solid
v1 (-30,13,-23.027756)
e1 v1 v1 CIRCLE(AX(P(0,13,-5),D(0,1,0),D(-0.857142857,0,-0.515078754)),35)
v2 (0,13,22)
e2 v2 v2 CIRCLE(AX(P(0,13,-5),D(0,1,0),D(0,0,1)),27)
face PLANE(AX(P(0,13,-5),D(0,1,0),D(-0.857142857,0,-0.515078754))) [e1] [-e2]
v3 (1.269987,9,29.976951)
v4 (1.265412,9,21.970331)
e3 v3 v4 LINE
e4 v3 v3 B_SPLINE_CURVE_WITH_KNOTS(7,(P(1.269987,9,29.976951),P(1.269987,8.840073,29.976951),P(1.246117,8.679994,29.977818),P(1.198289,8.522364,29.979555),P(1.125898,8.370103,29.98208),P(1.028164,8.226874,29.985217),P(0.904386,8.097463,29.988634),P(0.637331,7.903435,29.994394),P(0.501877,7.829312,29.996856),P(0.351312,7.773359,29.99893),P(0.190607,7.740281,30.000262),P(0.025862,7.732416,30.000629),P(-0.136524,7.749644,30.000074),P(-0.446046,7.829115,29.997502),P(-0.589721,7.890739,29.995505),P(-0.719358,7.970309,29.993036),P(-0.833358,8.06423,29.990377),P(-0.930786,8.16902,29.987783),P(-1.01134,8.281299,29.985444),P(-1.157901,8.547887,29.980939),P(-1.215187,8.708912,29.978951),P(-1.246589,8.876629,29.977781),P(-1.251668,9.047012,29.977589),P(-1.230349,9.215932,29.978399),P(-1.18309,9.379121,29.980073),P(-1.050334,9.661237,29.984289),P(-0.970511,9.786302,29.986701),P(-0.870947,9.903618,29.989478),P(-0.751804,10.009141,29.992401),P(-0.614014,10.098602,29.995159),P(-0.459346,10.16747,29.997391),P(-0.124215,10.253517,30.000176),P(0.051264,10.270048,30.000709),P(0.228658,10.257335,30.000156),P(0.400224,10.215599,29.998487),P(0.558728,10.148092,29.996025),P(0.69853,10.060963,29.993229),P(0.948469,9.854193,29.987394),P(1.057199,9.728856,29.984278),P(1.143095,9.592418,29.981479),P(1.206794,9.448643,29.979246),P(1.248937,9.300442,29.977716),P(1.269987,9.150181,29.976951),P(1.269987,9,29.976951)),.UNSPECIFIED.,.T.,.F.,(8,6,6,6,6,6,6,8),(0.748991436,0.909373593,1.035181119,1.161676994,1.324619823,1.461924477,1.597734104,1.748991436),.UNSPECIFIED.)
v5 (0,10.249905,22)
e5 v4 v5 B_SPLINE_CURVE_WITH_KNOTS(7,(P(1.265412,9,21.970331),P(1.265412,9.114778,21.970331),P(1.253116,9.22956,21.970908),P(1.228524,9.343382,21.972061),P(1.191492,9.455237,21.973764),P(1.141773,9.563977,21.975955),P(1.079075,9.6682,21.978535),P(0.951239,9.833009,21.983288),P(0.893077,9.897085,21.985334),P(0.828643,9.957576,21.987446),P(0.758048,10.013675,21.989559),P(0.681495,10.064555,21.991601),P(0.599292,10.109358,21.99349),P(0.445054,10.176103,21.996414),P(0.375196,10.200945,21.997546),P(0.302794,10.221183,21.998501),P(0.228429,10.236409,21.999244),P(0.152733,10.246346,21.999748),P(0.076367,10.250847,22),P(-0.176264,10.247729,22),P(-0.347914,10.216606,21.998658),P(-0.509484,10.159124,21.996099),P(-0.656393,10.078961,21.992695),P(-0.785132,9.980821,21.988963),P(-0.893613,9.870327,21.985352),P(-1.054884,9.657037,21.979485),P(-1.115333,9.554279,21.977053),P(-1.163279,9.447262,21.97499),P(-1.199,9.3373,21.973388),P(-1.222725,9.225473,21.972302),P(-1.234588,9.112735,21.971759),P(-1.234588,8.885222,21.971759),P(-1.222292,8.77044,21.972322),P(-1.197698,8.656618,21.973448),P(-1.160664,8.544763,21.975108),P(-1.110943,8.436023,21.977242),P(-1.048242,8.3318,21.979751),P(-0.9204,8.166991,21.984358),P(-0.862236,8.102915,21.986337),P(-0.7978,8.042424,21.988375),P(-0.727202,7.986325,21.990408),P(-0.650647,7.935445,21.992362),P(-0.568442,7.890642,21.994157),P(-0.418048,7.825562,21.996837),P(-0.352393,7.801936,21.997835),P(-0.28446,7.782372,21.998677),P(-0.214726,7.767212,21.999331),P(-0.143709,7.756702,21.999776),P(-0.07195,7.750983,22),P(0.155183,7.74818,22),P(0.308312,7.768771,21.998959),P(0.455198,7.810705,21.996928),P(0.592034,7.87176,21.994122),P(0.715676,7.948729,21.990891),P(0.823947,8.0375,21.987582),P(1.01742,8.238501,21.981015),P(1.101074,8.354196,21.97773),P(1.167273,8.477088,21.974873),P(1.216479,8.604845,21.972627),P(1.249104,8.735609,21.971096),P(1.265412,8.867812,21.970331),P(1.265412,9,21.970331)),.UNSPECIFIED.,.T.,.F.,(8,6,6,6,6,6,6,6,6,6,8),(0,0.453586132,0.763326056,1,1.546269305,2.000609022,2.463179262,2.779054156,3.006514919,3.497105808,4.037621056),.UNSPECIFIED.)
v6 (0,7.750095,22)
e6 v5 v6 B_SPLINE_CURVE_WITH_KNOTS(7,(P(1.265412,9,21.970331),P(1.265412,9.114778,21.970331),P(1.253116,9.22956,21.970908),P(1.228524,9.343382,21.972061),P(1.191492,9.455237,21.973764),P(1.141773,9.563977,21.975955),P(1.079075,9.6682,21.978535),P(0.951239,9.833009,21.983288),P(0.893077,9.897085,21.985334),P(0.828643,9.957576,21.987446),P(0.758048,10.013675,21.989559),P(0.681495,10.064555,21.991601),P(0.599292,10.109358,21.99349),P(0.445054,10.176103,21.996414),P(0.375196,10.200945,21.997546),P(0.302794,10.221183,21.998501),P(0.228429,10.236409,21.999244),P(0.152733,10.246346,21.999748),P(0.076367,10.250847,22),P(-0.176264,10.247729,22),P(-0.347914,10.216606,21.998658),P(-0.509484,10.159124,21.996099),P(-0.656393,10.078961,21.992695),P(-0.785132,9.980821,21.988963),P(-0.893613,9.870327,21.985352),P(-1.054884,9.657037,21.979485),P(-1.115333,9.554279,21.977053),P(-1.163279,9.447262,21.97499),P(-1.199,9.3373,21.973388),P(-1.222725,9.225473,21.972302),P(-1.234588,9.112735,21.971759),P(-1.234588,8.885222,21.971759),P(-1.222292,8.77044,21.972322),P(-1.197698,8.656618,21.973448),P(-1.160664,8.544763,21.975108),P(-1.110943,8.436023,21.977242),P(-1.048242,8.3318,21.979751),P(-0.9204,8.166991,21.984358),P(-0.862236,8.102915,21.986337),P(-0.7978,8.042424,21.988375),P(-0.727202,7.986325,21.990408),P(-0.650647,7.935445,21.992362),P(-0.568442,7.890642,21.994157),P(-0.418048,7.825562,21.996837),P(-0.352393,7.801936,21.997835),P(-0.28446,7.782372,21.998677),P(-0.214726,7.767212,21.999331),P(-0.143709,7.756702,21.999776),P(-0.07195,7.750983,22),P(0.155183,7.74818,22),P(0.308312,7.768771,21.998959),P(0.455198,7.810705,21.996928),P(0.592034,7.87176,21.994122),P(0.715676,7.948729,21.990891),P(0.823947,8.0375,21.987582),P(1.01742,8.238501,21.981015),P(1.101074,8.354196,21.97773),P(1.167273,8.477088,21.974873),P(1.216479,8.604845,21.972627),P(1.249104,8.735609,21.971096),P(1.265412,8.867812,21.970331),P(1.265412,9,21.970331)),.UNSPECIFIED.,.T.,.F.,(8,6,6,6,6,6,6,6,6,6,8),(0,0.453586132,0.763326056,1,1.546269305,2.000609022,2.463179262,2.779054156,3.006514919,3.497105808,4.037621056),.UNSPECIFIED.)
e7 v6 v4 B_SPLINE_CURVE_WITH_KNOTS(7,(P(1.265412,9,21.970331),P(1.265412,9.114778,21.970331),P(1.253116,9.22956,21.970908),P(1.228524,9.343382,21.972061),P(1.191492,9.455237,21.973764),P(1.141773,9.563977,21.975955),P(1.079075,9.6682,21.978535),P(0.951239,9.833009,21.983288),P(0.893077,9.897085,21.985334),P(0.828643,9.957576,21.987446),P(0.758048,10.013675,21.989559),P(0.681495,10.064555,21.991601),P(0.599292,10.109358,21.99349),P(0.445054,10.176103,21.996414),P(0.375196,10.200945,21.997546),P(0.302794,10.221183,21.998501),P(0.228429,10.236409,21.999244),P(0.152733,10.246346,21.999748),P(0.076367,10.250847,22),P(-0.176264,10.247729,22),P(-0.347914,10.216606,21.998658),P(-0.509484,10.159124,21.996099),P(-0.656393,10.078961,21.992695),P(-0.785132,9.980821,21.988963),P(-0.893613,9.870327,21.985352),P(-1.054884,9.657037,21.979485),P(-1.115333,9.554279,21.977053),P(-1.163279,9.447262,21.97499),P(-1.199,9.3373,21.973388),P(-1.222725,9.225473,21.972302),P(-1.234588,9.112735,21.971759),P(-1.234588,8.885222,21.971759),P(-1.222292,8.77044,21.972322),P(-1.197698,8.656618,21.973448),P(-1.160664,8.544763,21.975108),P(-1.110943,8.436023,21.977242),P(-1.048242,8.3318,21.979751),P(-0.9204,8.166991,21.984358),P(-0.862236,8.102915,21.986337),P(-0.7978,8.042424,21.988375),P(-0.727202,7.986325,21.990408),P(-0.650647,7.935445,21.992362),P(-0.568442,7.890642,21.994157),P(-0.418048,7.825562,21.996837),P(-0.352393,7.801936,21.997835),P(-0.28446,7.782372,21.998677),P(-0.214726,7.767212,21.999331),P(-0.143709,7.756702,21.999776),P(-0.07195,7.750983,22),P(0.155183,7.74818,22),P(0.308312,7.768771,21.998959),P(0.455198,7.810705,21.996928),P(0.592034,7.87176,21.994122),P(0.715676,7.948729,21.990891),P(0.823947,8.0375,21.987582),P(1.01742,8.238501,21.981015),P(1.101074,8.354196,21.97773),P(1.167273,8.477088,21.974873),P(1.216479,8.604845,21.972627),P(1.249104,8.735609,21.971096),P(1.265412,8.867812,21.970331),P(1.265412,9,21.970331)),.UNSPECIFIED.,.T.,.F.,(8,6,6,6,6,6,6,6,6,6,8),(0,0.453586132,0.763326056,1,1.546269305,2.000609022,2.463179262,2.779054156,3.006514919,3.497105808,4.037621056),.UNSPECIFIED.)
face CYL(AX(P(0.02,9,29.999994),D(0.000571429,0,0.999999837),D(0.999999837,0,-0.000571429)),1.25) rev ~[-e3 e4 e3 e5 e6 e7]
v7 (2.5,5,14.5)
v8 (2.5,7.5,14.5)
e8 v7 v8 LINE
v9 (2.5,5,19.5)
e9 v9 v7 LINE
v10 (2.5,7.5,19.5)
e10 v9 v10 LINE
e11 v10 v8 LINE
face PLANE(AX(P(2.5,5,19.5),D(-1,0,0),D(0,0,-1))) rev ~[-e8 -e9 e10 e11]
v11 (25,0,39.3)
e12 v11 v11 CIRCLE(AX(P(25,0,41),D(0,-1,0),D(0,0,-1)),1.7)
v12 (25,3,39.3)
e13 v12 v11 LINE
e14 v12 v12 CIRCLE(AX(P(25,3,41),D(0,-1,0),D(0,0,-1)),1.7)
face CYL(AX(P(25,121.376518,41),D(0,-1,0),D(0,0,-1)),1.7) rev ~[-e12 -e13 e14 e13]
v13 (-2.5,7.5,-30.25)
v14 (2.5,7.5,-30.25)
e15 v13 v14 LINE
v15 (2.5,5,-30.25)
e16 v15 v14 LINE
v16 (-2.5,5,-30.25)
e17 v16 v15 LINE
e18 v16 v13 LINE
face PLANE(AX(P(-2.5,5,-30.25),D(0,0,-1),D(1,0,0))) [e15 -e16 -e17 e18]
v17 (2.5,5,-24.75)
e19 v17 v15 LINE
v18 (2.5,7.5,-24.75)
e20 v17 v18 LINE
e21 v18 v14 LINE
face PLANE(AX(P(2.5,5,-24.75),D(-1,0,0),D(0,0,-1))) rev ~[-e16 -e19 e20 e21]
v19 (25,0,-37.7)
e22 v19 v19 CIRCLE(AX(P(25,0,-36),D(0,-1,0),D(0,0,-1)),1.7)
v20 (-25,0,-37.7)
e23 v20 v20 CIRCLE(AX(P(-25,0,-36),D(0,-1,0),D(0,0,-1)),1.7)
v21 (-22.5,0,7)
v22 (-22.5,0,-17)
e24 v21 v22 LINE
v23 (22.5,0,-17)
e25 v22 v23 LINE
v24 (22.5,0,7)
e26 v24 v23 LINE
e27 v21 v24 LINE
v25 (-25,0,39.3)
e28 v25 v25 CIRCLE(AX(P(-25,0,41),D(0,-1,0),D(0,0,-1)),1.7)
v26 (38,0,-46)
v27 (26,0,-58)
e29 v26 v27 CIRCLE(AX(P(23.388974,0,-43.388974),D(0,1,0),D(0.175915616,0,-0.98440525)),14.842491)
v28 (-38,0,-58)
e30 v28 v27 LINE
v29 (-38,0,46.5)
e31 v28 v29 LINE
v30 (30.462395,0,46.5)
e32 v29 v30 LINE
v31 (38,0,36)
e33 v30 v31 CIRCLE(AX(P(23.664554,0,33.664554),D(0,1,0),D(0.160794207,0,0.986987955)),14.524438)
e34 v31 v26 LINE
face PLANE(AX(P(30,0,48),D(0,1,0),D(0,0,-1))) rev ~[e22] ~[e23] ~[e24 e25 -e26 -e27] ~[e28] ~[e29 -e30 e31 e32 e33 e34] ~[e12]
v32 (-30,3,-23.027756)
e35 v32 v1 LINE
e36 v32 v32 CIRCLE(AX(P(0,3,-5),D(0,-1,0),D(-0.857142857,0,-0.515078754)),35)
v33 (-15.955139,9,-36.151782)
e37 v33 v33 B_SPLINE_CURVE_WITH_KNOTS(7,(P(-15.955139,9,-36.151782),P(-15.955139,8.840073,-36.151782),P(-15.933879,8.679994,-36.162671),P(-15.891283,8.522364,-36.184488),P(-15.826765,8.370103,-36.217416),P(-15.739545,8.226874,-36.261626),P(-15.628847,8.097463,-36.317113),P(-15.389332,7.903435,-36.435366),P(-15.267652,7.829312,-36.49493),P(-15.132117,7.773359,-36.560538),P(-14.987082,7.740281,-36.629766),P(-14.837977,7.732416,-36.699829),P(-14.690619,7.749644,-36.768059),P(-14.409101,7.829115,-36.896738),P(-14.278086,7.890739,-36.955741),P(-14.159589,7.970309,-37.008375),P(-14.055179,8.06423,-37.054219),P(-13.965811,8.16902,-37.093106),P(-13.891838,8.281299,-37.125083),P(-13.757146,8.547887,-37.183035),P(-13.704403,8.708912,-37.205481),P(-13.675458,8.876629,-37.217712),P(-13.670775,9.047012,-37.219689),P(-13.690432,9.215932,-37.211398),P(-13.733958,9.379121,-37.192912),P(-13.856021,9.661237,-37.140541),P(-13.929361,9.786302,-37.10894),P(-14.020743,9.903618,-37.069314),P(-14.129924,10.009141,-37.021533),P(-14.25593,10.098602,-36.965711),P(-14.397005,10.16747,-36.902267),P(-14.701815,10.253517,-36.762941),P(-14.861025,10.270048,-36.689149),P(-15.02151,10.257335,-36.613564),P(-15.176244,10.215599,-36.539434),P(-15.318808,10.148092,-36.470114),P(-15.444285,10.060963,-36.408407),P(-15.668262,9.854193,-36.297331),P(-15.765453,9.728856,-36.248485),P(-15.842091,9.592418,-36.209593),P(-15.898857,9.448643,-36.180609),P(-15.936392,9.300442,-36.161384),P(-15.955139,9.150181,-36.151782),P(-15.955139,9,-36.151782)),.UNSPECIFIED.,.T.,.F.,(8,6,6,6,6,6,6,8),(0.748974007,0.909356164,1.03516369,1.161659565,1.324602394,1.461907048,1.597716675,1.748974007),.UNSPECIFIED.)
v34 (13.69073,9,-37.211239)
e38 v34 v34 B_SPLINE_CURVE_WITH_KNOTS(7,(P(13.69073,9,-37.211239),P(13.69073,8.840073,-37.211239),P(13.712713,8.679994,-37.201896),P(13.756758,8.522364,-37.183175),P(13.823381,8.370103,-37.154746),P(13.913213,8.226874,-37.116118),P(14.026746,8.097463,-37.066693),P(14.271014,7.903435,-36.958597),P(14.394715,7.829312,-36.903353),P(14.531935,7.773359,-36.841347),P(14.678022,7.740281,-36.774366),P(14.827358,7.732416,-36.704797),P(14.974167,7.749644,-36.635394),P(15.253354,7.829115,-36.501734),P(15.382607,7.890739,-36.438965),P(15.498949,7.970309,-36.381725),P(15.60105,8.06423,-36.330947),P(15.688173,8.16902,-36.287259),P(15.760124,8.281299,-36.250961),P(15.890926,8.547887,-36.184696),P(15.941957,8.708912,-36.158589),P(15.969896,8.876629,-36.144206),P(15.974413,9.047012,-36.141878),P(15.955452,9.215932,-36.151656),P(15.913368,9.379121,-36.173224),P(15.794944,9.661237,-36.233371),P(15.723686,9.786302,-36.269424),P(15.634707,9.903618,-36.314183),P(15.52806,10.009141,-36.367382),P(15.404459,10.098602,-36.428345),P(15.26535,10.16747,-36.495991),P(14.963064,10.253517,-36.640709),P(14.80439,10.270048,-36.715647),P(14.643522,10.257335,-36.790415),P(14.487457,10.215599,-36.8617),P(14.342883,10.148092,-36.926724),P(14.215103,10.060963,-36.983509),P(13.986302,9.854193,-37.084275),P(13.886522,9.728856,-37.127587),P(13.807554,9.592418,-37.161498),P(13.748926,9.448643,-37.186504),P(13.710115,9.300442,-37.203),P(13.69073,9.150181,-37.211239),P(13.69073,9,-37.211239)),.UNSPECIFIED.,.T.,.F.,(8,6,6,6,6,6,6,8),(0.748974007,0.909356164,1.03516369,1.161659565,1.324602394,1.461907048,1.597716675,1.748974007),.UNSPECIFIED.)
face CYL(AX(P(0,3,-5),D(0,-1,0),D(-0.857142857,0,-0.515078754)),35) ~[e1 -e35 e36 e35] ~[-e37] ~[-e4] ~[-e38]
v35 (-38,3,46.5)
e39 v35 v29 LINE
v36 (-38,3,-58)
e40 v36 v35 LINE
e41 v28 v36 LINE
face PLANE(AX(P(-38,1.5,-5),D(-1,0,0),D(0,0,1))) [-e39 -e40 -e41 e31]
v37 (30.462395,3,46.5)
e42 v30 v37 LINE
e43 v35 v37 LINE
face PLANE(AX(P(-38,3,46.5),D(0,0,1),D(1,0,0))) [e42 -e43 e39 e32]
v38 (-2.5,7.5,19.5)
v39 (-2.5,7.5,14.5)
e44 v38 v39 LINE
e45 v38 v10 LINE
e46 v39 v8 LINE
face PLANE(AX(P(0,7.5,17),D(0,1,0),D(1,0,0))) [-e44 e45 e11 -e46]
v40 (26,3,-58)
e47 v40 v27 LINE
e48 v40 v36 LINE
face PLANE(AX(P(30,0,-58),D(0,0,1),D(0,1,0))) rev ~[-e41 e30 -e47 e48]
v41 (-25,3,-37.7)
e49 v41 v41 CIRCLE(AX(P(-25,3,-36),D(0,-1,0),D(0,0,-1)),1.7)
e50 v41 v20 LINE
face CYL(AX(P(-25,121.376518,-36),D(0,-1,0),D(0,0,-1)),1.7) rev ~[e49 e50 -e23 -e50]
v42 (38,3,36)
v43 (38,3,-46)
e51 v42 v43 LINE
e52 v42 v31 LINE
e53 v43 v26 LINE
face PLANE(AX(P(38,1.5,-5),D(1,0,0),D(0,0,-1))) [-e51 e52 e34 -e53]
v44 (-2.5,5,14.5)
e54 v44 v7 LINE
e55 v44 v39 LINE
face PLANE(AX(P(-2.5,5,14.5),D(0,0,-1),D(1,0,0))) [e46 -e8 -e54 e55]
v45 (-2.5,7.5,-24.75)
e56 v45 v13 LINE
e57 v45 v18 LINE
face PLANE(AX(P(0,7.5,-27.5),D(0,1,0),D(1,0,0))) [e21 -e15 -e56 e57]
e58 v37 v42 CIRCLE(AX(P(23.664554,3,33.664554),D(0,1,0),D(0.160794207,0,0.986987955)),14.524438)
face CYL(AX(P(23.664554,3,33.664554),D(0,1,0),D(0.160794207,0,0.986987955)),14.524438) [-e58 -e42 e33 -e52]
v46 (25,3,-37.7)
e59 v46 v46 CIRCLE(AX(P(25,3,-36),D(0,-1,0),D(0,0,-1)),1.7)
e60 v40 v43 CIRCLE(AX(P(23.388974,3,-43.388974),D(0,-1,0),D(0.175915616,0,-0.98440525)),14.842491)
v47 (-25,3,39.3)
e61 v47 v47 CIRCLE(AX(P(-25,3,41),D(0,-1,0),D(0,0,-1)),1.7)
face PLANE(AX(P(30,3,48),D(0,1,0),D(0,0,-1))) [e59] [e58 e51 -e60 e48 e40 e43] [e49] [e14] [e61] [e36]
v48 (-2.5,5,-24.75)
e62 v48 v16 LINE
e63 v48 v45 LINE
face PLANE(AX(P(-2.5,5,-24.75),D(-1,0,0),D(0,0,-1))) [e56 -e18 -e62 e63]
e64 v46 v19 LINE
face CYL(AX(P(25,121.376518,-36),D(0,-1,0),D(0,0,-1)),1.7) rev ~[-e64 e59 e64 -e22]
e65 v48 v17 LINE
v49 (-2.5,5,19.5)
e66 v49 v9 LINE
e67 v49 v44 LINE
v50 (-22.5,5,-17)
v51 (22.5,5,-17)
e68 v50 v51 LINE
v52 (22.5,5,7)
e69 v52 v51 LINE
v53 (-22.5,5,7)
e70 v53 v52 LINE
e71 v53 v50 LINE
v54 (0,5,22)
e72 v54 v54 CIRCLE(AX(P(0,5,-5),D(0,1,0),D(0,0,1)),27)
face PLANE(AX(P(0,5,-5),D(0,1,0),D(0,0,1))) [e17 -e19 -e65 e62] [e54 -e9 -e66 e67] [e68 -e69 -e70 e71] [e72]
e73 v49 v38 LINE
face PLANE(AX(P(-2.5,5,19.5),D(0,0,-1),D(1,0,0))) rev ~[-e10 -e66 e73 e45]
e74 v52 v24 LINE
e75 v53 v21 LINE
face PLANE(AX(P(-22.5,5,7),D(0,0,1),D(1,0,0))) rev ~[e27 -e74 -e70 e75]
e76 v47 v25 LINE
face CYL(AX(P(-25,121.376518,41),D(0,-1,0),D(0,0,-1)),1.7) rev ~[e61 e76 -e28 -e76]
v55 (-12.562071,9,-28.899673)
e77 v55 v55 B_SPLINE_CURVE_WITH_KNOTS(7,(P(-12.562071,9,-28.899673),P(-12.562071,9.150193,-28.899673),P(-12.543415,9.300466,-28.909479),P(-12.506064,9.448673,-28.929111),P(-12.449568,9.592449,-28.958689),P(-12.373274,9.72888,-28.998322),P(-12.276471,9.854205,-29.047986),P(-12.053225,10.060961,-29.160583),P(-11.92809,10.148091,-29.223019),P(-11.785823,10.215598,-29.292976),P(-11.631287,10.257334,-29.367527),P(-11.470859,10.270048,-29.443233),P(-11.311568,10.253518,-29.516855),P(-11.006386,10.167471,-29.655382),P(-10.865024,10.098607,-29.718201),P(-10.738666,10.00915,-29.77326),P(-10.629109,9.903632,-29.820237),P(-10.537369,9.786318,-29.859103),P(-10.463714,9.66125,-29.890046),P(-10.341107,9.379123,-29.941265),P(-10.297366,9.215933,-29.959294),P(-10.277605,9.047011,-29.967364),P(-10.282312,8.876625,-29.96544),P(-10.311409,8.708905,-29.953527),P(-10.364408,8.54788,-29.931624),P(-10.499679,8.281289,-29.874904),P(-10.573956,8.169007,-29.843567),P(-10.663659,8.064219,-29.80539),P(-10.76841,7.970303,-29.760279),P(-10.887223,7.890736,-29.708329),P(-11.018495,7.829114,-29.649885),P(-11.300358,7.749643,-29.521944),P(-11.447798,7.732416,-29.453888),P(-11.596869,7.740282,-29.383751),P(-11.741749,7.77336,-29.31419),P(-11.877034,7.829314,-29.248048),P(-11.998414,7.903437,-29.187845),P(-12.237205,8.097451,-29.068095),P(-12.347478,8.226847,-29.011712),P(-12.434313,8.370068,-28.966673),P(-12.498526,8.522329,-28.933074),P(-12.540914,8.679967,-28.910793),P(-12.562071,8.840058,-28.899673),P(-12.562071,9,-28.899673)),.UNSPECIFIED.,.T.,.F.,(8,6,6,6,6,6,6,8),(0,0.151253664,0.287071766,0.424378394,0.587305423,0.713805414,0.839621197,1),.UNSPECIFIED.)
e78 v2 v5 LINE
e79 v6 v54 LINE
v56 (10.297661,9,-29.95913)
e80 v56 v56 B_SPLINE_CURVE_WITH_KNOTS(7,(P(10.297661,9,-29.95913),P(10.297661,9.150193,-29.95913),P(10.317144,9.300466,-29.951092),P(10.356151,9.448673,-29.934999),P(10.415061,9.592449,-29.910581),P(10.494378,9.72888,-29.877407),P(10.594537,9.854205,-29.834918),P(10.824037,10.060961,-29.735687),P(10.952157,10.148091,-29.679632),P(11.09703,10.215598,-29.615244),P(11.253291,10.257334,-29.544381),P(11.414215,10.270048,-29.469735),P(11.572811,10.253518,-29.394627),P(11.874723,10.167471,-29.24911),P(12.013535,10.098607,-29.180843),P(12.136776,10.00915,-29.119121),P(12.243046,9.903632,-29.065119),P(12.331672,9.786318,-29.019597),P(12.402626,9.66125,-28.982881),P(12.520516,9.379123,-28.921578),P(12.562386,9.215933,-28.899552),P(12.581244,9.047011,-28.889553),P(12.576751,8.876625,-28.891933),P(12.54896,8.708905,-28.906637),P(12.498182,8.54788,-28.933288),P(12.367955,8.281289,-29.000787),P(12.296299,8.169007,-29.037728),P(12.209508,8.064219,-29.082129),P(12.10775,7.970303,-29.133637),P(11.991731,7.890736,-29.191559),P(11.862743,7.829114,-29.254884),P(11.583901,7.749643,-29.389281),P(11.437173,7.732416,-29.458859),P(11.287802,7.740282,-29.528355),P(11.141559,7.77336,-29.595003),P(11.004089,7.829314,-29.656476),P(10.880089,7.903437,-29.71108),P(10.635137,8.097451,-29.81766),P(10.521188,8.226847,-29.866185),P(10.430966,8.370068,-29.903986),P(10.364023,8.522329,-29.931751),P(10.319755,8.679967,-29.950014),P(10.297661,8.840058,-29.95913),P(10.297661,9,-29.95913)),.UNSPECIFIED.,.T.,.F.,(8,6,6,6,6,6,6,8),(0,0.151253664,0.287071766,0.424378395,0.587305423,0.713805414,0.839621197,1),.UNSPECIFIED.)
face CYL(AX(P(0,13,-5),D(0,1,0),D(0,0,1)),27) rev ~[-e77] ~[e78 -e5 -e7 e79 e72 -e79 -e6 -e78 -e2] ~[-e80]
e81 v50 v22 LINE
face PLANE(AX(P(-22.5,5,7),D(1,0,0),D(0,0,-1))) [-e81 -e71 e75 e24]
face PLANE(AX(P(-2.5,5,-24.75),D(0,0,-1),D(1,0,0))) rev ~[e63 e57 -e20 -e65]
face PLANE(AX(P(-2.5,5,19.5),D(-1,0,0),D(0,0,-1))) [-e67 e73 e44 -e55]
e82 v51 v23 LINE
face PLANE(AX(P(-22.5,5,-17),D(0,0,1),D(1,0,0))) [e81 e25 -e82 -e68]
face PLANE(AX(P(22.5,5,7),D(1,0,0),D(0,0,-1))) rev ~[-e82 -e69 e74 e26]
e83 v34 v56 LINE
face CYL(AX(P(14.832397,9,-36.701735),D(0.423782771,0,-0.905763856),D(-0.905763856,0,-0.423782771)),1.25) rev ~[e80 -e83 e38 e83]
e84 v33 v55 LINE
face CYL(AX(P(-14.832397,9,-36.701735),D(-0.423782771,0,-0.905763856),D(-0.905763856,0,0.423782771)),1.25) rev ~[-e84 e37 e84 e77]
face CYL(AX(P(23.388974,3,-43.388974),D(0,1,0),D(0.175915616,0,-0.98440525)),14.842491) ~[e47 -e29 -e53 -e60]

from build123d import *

# Parameters (mm, degrees)
SKETCH1_W                  = 60
SKETCH1_H                  = 102
BOSS_EXTRUDE1_DEPTH        = 3
M3_CLEARANCE_HOLE1_D       = 3.4
SKETCH5_R                  = 35
BOSS_EXTRUDE2_DEPTH        = 10
SKETCH6_R                  = 27
CUT_EXTRUDE1_DEPTH         = 8
SKETCH8_W                  = 5
SKETCH8_H                  = 5.5
BOSS_EXTRUDE3_DEPTH        = 2.5
SKETCH9_W                  = 5
SKETCH9_H                  = 5
BOSS_EXTRUDE4_DEPTH        = 2.5
SKETCH10_W                 = 45
SKETCH10_H                 = 24
CUT_EXTRUDE2_DEPTH         = 63.369864518
SKETCH12_W                 = 60
SKETCH12_H                 = 2
CUT_EXTRUDE3_DEPTH         = 63.657800791
SKETCH13_W                 = 60
SKETCH13_H                 = 3
CUT_EXTRUDE4_DEPTH         = 63.657800791
SKETCH14_W                 = 60
SKETCH14_H                 = 3
BOSS_EXTRUDE5_DEPTH        = 9
SKETCH16_W                 = 106
SKETCH16_H                 = 3
BOSS_EXTRUDE6_DEPTH        = 8
SKETCH17_W                 = 106
SKETCH17_H                 = 3
BOSS_EXTRUDE7_DEPTH        = 8
CUT_EXTRUDE5_DEPTH         = 15
CUT_EXTRUDE6_DEPTH         = 71.057119553
M3X0_5_TAPPED_HOLE1_REACH  = 102.233
M3X0_5_TAPPED_HOLE1_BORE_R = 1.25
M3X0_5_TAPPED_HOLE2_REACH  = 102.233
M3X0_5_TAPPED_HOLE2_BORE_R = 1.25
M3X0_5_TAPPED_HOLE3_REACH  = 98.284
M3X0_5_TAPPED_HOLE3_BORE_R = 1.25
SKETCH28_W                 = 76
SKETCH28_H                 = 1.5
CUT_EXTRUDE7_DEPTH         = 71.057119567


with BuildPart() as part:
    # Sketch1 → Boss-Extrude1 (new body)
    with BuildSketch(Plane(origin=(0, 0, 0), x_dir=(1, 0, 0), z_dir=(0, 1, 0))):
        Rectangle(SKETCH1_W, SKETCH1_H)
    extrude(amount=BOSS_EXTRUDE1_DEPTH)

    # M3 Clearance Hole1 (through all)
    with Locations(Plane(origin=(-25, 3, -36), x_dir=(0, 0, 1), z_dir=(0, 1, 0))):
        with Locations((0, 0), (0, 50), (77, 0), (77, 50)):
            Hole(M3_CLEARANCE_HOLE1_D / 2)

    # Sketch5 → Boss-Extrude2 (add)
    with BuildSketch(Plane(origin=(0, 3, 0), x_dir=(1, 0, 0), z_dir=(0, 1, 0))):
        with Locations(Location((0, 5, 0), (0, 0, 148.997280866))):
            Circle(SKETCH5_R)
    extrude(amount=BOSS_EXTRUDE2_DEPTH)

    # Sketch6 → Cut-Extrude1 (cut)
    with BuildSketch(Plane(origin=(0, 13, 0), x_dir=(1, 0, 0), z_dir=(0, 1, 0))):
        with Locations(Location((0, 5, 0), (0, 0, 270))):
            Circle(SKETCH6_R)
    extrude(amount=-CUT_EXTRUDE1_DEPTH, mode=Mode.SUBTRACT)

    # Sketch8 → Boss-Extrude3 (add)
    with BuildSketch(Plane(origin=(0, 5, 0), x_dir=(1, 0, 0), z_dir=(0, 1, 0))):
        with Locations((0, 27.5)):
            Rectangle(SKETCH8_W, SKETCH8_H)
    extrude(amount=BOSS_EXTRUDE3_DEPTH)

    # Sketch9 → Boss-Extrude4 (add)
    with BuildSketch(Plane(origin=(0, 5, 0), x_dir=(1, 0, 0), z_dir=(0, 1, 0))):
        with Locations((0, -17)):
            Rectangle(SKETCH9_W, SKETCH9_H)
    extrude(amount=BOSS_EXTRUDE4_DEPTH)

    # Sketch10 → Cut-Extrude2 (cut, through all)
    with BuildSketch(Plane(origin=(0, 5, 0), x_dir=(1, 0, 0), z_dir=(0, 1, 0))):
        with Locations((0, 5)):
            Rectangle(SKETCH10_W, SKETCH10_H)
    extrude(amount=-CUT_EXTRUDE2_DEPTH, mode=Mode.SUBTRACT)

    # Sketch12 → Cut-Extrude3 (cut, through all)
    with BuildSketch(Plane(origin=(0, 3, 0), x_dir=(1, 0, 0), z_dir=(0, 1, 0))):
        with Locations((0, 50)):
            Rectangle(SKETCH12_W, SKETCH12_H)
    extrude(amount=-CUT_EXTRUDE3_DEPTH, mode=Mode.SUBTRACT)

    # Sketch13 → Cut-Extrude4 (cut, through all)
    with BuildSketch(Plane(origin=(0, 3, 0), x_dir=(1, 0, 0), z_dir=(0, 1, 0))):
        with Locations((0, -49.5)):
            Rectangle(SKETCH13_W, SKETCH13_H)
    extrude(amount=-CUT_EXTRUDE4_DEPTH, mode=Mode.SUBTRACT)

    # Sketch14 → Boss-Extrude5 (add)
    with BuildSketch(Plane(origin=(0, 0, -49), x_dir=(-1, 0, 0), z_dir=(0, 0, -1))):
        with Locations((0, 1.5)):
            Rectangle(SKETCH14_W, SKETCH14_H)
    extrude(amount=BOSS_EXTRUDE5_DEPTH)

    # Sketch16 → Boss-Extrude6 (add)
    with BuildSketch(Plane.ZY.offset(30)):
        with Locations((-5, 1.5)):
            Rectangle(SKETCH16_W, SKETCH16_H)
    extrude(amount=BOSS_EXTRUDE6_DEPTH)

    # Sketch17 → Boss-Extrude7 (add)
    with BuildSketch(Plane(origin=(30, 0, 0), x_dir=(0, 0, -1), z_dir=(1, 0, 0))):
        with Locations((5, 1.5)):
            Rectangle(SKETCH17_W, SKETCH17_H)
    extrude(amount=BOSS_EXTRUDE7_DEPTH)

    # Sketch18 → Cut-Extrude5 (cut)
    with BuildSketch(Plane(origin=(0, 3, 0), x_dir=(1, 0, 0), z_dir=(0, 1, 0))):
        with BuildLine():
            Line((38, 46), (38, 58))
            Line((38, 58), (26, 58))
            ThreePointArc((26, 58), (33.884200012, 53.884200012), (38, 46))
        make_face()
    extrude(amount=-CUT_EXTRUDE5_DEPTH, mode=Mode.SUBTRACT)

    # Sketch19 → Cut-Extrude6 (cut, through all)
    with BuildSketch(Plane(origin=(0, 3, 0), x_dir=(1, 0, 0), z_dir=(0, 1, 0))):
        with BuildLine():
            Line((38, -36), (38, -48))
            Line((38, -48), (26, -48))
            ThreePointArc((26, -48), (33.934883201, -43.934883201), (38, -36))
        make_face()
    extrude(amount=-CUT_EXTRUDE6_DEPTH, mode=Mode.SUBTRACT)

    # M3x0.5 Tapped Hole1 bore (on position points) → M3x0.5 Tapped Hole1 (cut, up to next)
    with BuildSketch(Plane(origin=(-14.832396974, 9, -36.701734968), x_dir=(-0.905763856237, 0, 0.423782770691), z_dir=(-0.423782770691, 0, -0.905763856237)), mode=Mode.PRIVATE) as m3x0_5_tapped_hole1_sk1:
        Circle(M3X0_5_TAPPED_HOLE1_BORE_R)
    m3x0_5_tapped_hole1_tool1 = extrude(m3x0_5_tapped_hole1_sk1.sketch, amount=-M3X0_5_TAPPED_HOLE1_REACH, mode=Mode.PRIVATE) & part.part
    add(m3x0_5_tapped_hole1_tool1.solids().sort_by_distance((-14.832397, 9, -36.701735))[0], mode=Mode.SUBTRACT)

    # M3x0.5 Tapped Hole2 bore (on position points) → M3x0.5 Tapped Hole2 (cut, up to next)
    with BuildSketch(Plane(origin=(14.832396974, 9, -36.701734968), x_dir=(-0.905763856237, 0, -0.423782770691), z_dir=(0.423782770691, 0, -0.905763856237)), mode=Mode.PRIVATE) as m3x0_5_tapped_hole2_sk1:
        Circle(M3X0_5_TAPPED_HOLE2_BORE_R)
    m3x0_5_tapped_hole2_tool1 = extrude(m3x0_5_tapped_hole2_sk1.sketch, amount=-M3X0_5_TAPPED_HOLE2_REACH, mode=Mode.PRIVATE) & part.part
    add(m3x0_5_tapped_hole2_tool1.solids().sort_by_distance((14.832397, 9, -36.701735))[0], mode=Mode.SUBTRACT)

    # M3x0.5 Tapped Hole3 bore (on position points) → M3x0.5 Tapped Hole3 (cut, up to next)
    with BuildSketch(Plane(origin=(0.02, 9, 29.999994286), x_dir=(0.999999836735, 0, -0.000571428571), z_dir=(0.000571428571, 0, 0.999999836735)), mode=Mode.PRIVATE) as m3x0_5_tapped_hole3_sk1:
        Circle(M3X0_5_TAPPED_HOLE3_BORE_R)
    m3x0_5_tapped_hole3_tool1 = extrude(m3x0_5_tapped_hole3_sk1.sketch, amount=-M3X0_5_TAPPED_HOLE3_REACH, mode=Mode.PRIVATE) & part.part
    add(m3x0_5_tapped_hole3_tool1.solids().sort_by_distance((0.02, 9, 29.999994))[0], mode=Mode.SUBTRACT)

    # Sketch28 → Cut-Extrude7 (cut, through all)
    with BuildSketch(Plane(origin=(0, 3, 0), x_dir=(1, 0, 0), z_dir=(0, 1, 0))):
        with Locations((0, -47.25)):
            Rectangle(SKETCH28_W, SKETCH28_H)
    extrude(amount=-CUT_EXTRUDE7_DEPTH, mode=Mode.SUBTRACT)


solid = part.part
